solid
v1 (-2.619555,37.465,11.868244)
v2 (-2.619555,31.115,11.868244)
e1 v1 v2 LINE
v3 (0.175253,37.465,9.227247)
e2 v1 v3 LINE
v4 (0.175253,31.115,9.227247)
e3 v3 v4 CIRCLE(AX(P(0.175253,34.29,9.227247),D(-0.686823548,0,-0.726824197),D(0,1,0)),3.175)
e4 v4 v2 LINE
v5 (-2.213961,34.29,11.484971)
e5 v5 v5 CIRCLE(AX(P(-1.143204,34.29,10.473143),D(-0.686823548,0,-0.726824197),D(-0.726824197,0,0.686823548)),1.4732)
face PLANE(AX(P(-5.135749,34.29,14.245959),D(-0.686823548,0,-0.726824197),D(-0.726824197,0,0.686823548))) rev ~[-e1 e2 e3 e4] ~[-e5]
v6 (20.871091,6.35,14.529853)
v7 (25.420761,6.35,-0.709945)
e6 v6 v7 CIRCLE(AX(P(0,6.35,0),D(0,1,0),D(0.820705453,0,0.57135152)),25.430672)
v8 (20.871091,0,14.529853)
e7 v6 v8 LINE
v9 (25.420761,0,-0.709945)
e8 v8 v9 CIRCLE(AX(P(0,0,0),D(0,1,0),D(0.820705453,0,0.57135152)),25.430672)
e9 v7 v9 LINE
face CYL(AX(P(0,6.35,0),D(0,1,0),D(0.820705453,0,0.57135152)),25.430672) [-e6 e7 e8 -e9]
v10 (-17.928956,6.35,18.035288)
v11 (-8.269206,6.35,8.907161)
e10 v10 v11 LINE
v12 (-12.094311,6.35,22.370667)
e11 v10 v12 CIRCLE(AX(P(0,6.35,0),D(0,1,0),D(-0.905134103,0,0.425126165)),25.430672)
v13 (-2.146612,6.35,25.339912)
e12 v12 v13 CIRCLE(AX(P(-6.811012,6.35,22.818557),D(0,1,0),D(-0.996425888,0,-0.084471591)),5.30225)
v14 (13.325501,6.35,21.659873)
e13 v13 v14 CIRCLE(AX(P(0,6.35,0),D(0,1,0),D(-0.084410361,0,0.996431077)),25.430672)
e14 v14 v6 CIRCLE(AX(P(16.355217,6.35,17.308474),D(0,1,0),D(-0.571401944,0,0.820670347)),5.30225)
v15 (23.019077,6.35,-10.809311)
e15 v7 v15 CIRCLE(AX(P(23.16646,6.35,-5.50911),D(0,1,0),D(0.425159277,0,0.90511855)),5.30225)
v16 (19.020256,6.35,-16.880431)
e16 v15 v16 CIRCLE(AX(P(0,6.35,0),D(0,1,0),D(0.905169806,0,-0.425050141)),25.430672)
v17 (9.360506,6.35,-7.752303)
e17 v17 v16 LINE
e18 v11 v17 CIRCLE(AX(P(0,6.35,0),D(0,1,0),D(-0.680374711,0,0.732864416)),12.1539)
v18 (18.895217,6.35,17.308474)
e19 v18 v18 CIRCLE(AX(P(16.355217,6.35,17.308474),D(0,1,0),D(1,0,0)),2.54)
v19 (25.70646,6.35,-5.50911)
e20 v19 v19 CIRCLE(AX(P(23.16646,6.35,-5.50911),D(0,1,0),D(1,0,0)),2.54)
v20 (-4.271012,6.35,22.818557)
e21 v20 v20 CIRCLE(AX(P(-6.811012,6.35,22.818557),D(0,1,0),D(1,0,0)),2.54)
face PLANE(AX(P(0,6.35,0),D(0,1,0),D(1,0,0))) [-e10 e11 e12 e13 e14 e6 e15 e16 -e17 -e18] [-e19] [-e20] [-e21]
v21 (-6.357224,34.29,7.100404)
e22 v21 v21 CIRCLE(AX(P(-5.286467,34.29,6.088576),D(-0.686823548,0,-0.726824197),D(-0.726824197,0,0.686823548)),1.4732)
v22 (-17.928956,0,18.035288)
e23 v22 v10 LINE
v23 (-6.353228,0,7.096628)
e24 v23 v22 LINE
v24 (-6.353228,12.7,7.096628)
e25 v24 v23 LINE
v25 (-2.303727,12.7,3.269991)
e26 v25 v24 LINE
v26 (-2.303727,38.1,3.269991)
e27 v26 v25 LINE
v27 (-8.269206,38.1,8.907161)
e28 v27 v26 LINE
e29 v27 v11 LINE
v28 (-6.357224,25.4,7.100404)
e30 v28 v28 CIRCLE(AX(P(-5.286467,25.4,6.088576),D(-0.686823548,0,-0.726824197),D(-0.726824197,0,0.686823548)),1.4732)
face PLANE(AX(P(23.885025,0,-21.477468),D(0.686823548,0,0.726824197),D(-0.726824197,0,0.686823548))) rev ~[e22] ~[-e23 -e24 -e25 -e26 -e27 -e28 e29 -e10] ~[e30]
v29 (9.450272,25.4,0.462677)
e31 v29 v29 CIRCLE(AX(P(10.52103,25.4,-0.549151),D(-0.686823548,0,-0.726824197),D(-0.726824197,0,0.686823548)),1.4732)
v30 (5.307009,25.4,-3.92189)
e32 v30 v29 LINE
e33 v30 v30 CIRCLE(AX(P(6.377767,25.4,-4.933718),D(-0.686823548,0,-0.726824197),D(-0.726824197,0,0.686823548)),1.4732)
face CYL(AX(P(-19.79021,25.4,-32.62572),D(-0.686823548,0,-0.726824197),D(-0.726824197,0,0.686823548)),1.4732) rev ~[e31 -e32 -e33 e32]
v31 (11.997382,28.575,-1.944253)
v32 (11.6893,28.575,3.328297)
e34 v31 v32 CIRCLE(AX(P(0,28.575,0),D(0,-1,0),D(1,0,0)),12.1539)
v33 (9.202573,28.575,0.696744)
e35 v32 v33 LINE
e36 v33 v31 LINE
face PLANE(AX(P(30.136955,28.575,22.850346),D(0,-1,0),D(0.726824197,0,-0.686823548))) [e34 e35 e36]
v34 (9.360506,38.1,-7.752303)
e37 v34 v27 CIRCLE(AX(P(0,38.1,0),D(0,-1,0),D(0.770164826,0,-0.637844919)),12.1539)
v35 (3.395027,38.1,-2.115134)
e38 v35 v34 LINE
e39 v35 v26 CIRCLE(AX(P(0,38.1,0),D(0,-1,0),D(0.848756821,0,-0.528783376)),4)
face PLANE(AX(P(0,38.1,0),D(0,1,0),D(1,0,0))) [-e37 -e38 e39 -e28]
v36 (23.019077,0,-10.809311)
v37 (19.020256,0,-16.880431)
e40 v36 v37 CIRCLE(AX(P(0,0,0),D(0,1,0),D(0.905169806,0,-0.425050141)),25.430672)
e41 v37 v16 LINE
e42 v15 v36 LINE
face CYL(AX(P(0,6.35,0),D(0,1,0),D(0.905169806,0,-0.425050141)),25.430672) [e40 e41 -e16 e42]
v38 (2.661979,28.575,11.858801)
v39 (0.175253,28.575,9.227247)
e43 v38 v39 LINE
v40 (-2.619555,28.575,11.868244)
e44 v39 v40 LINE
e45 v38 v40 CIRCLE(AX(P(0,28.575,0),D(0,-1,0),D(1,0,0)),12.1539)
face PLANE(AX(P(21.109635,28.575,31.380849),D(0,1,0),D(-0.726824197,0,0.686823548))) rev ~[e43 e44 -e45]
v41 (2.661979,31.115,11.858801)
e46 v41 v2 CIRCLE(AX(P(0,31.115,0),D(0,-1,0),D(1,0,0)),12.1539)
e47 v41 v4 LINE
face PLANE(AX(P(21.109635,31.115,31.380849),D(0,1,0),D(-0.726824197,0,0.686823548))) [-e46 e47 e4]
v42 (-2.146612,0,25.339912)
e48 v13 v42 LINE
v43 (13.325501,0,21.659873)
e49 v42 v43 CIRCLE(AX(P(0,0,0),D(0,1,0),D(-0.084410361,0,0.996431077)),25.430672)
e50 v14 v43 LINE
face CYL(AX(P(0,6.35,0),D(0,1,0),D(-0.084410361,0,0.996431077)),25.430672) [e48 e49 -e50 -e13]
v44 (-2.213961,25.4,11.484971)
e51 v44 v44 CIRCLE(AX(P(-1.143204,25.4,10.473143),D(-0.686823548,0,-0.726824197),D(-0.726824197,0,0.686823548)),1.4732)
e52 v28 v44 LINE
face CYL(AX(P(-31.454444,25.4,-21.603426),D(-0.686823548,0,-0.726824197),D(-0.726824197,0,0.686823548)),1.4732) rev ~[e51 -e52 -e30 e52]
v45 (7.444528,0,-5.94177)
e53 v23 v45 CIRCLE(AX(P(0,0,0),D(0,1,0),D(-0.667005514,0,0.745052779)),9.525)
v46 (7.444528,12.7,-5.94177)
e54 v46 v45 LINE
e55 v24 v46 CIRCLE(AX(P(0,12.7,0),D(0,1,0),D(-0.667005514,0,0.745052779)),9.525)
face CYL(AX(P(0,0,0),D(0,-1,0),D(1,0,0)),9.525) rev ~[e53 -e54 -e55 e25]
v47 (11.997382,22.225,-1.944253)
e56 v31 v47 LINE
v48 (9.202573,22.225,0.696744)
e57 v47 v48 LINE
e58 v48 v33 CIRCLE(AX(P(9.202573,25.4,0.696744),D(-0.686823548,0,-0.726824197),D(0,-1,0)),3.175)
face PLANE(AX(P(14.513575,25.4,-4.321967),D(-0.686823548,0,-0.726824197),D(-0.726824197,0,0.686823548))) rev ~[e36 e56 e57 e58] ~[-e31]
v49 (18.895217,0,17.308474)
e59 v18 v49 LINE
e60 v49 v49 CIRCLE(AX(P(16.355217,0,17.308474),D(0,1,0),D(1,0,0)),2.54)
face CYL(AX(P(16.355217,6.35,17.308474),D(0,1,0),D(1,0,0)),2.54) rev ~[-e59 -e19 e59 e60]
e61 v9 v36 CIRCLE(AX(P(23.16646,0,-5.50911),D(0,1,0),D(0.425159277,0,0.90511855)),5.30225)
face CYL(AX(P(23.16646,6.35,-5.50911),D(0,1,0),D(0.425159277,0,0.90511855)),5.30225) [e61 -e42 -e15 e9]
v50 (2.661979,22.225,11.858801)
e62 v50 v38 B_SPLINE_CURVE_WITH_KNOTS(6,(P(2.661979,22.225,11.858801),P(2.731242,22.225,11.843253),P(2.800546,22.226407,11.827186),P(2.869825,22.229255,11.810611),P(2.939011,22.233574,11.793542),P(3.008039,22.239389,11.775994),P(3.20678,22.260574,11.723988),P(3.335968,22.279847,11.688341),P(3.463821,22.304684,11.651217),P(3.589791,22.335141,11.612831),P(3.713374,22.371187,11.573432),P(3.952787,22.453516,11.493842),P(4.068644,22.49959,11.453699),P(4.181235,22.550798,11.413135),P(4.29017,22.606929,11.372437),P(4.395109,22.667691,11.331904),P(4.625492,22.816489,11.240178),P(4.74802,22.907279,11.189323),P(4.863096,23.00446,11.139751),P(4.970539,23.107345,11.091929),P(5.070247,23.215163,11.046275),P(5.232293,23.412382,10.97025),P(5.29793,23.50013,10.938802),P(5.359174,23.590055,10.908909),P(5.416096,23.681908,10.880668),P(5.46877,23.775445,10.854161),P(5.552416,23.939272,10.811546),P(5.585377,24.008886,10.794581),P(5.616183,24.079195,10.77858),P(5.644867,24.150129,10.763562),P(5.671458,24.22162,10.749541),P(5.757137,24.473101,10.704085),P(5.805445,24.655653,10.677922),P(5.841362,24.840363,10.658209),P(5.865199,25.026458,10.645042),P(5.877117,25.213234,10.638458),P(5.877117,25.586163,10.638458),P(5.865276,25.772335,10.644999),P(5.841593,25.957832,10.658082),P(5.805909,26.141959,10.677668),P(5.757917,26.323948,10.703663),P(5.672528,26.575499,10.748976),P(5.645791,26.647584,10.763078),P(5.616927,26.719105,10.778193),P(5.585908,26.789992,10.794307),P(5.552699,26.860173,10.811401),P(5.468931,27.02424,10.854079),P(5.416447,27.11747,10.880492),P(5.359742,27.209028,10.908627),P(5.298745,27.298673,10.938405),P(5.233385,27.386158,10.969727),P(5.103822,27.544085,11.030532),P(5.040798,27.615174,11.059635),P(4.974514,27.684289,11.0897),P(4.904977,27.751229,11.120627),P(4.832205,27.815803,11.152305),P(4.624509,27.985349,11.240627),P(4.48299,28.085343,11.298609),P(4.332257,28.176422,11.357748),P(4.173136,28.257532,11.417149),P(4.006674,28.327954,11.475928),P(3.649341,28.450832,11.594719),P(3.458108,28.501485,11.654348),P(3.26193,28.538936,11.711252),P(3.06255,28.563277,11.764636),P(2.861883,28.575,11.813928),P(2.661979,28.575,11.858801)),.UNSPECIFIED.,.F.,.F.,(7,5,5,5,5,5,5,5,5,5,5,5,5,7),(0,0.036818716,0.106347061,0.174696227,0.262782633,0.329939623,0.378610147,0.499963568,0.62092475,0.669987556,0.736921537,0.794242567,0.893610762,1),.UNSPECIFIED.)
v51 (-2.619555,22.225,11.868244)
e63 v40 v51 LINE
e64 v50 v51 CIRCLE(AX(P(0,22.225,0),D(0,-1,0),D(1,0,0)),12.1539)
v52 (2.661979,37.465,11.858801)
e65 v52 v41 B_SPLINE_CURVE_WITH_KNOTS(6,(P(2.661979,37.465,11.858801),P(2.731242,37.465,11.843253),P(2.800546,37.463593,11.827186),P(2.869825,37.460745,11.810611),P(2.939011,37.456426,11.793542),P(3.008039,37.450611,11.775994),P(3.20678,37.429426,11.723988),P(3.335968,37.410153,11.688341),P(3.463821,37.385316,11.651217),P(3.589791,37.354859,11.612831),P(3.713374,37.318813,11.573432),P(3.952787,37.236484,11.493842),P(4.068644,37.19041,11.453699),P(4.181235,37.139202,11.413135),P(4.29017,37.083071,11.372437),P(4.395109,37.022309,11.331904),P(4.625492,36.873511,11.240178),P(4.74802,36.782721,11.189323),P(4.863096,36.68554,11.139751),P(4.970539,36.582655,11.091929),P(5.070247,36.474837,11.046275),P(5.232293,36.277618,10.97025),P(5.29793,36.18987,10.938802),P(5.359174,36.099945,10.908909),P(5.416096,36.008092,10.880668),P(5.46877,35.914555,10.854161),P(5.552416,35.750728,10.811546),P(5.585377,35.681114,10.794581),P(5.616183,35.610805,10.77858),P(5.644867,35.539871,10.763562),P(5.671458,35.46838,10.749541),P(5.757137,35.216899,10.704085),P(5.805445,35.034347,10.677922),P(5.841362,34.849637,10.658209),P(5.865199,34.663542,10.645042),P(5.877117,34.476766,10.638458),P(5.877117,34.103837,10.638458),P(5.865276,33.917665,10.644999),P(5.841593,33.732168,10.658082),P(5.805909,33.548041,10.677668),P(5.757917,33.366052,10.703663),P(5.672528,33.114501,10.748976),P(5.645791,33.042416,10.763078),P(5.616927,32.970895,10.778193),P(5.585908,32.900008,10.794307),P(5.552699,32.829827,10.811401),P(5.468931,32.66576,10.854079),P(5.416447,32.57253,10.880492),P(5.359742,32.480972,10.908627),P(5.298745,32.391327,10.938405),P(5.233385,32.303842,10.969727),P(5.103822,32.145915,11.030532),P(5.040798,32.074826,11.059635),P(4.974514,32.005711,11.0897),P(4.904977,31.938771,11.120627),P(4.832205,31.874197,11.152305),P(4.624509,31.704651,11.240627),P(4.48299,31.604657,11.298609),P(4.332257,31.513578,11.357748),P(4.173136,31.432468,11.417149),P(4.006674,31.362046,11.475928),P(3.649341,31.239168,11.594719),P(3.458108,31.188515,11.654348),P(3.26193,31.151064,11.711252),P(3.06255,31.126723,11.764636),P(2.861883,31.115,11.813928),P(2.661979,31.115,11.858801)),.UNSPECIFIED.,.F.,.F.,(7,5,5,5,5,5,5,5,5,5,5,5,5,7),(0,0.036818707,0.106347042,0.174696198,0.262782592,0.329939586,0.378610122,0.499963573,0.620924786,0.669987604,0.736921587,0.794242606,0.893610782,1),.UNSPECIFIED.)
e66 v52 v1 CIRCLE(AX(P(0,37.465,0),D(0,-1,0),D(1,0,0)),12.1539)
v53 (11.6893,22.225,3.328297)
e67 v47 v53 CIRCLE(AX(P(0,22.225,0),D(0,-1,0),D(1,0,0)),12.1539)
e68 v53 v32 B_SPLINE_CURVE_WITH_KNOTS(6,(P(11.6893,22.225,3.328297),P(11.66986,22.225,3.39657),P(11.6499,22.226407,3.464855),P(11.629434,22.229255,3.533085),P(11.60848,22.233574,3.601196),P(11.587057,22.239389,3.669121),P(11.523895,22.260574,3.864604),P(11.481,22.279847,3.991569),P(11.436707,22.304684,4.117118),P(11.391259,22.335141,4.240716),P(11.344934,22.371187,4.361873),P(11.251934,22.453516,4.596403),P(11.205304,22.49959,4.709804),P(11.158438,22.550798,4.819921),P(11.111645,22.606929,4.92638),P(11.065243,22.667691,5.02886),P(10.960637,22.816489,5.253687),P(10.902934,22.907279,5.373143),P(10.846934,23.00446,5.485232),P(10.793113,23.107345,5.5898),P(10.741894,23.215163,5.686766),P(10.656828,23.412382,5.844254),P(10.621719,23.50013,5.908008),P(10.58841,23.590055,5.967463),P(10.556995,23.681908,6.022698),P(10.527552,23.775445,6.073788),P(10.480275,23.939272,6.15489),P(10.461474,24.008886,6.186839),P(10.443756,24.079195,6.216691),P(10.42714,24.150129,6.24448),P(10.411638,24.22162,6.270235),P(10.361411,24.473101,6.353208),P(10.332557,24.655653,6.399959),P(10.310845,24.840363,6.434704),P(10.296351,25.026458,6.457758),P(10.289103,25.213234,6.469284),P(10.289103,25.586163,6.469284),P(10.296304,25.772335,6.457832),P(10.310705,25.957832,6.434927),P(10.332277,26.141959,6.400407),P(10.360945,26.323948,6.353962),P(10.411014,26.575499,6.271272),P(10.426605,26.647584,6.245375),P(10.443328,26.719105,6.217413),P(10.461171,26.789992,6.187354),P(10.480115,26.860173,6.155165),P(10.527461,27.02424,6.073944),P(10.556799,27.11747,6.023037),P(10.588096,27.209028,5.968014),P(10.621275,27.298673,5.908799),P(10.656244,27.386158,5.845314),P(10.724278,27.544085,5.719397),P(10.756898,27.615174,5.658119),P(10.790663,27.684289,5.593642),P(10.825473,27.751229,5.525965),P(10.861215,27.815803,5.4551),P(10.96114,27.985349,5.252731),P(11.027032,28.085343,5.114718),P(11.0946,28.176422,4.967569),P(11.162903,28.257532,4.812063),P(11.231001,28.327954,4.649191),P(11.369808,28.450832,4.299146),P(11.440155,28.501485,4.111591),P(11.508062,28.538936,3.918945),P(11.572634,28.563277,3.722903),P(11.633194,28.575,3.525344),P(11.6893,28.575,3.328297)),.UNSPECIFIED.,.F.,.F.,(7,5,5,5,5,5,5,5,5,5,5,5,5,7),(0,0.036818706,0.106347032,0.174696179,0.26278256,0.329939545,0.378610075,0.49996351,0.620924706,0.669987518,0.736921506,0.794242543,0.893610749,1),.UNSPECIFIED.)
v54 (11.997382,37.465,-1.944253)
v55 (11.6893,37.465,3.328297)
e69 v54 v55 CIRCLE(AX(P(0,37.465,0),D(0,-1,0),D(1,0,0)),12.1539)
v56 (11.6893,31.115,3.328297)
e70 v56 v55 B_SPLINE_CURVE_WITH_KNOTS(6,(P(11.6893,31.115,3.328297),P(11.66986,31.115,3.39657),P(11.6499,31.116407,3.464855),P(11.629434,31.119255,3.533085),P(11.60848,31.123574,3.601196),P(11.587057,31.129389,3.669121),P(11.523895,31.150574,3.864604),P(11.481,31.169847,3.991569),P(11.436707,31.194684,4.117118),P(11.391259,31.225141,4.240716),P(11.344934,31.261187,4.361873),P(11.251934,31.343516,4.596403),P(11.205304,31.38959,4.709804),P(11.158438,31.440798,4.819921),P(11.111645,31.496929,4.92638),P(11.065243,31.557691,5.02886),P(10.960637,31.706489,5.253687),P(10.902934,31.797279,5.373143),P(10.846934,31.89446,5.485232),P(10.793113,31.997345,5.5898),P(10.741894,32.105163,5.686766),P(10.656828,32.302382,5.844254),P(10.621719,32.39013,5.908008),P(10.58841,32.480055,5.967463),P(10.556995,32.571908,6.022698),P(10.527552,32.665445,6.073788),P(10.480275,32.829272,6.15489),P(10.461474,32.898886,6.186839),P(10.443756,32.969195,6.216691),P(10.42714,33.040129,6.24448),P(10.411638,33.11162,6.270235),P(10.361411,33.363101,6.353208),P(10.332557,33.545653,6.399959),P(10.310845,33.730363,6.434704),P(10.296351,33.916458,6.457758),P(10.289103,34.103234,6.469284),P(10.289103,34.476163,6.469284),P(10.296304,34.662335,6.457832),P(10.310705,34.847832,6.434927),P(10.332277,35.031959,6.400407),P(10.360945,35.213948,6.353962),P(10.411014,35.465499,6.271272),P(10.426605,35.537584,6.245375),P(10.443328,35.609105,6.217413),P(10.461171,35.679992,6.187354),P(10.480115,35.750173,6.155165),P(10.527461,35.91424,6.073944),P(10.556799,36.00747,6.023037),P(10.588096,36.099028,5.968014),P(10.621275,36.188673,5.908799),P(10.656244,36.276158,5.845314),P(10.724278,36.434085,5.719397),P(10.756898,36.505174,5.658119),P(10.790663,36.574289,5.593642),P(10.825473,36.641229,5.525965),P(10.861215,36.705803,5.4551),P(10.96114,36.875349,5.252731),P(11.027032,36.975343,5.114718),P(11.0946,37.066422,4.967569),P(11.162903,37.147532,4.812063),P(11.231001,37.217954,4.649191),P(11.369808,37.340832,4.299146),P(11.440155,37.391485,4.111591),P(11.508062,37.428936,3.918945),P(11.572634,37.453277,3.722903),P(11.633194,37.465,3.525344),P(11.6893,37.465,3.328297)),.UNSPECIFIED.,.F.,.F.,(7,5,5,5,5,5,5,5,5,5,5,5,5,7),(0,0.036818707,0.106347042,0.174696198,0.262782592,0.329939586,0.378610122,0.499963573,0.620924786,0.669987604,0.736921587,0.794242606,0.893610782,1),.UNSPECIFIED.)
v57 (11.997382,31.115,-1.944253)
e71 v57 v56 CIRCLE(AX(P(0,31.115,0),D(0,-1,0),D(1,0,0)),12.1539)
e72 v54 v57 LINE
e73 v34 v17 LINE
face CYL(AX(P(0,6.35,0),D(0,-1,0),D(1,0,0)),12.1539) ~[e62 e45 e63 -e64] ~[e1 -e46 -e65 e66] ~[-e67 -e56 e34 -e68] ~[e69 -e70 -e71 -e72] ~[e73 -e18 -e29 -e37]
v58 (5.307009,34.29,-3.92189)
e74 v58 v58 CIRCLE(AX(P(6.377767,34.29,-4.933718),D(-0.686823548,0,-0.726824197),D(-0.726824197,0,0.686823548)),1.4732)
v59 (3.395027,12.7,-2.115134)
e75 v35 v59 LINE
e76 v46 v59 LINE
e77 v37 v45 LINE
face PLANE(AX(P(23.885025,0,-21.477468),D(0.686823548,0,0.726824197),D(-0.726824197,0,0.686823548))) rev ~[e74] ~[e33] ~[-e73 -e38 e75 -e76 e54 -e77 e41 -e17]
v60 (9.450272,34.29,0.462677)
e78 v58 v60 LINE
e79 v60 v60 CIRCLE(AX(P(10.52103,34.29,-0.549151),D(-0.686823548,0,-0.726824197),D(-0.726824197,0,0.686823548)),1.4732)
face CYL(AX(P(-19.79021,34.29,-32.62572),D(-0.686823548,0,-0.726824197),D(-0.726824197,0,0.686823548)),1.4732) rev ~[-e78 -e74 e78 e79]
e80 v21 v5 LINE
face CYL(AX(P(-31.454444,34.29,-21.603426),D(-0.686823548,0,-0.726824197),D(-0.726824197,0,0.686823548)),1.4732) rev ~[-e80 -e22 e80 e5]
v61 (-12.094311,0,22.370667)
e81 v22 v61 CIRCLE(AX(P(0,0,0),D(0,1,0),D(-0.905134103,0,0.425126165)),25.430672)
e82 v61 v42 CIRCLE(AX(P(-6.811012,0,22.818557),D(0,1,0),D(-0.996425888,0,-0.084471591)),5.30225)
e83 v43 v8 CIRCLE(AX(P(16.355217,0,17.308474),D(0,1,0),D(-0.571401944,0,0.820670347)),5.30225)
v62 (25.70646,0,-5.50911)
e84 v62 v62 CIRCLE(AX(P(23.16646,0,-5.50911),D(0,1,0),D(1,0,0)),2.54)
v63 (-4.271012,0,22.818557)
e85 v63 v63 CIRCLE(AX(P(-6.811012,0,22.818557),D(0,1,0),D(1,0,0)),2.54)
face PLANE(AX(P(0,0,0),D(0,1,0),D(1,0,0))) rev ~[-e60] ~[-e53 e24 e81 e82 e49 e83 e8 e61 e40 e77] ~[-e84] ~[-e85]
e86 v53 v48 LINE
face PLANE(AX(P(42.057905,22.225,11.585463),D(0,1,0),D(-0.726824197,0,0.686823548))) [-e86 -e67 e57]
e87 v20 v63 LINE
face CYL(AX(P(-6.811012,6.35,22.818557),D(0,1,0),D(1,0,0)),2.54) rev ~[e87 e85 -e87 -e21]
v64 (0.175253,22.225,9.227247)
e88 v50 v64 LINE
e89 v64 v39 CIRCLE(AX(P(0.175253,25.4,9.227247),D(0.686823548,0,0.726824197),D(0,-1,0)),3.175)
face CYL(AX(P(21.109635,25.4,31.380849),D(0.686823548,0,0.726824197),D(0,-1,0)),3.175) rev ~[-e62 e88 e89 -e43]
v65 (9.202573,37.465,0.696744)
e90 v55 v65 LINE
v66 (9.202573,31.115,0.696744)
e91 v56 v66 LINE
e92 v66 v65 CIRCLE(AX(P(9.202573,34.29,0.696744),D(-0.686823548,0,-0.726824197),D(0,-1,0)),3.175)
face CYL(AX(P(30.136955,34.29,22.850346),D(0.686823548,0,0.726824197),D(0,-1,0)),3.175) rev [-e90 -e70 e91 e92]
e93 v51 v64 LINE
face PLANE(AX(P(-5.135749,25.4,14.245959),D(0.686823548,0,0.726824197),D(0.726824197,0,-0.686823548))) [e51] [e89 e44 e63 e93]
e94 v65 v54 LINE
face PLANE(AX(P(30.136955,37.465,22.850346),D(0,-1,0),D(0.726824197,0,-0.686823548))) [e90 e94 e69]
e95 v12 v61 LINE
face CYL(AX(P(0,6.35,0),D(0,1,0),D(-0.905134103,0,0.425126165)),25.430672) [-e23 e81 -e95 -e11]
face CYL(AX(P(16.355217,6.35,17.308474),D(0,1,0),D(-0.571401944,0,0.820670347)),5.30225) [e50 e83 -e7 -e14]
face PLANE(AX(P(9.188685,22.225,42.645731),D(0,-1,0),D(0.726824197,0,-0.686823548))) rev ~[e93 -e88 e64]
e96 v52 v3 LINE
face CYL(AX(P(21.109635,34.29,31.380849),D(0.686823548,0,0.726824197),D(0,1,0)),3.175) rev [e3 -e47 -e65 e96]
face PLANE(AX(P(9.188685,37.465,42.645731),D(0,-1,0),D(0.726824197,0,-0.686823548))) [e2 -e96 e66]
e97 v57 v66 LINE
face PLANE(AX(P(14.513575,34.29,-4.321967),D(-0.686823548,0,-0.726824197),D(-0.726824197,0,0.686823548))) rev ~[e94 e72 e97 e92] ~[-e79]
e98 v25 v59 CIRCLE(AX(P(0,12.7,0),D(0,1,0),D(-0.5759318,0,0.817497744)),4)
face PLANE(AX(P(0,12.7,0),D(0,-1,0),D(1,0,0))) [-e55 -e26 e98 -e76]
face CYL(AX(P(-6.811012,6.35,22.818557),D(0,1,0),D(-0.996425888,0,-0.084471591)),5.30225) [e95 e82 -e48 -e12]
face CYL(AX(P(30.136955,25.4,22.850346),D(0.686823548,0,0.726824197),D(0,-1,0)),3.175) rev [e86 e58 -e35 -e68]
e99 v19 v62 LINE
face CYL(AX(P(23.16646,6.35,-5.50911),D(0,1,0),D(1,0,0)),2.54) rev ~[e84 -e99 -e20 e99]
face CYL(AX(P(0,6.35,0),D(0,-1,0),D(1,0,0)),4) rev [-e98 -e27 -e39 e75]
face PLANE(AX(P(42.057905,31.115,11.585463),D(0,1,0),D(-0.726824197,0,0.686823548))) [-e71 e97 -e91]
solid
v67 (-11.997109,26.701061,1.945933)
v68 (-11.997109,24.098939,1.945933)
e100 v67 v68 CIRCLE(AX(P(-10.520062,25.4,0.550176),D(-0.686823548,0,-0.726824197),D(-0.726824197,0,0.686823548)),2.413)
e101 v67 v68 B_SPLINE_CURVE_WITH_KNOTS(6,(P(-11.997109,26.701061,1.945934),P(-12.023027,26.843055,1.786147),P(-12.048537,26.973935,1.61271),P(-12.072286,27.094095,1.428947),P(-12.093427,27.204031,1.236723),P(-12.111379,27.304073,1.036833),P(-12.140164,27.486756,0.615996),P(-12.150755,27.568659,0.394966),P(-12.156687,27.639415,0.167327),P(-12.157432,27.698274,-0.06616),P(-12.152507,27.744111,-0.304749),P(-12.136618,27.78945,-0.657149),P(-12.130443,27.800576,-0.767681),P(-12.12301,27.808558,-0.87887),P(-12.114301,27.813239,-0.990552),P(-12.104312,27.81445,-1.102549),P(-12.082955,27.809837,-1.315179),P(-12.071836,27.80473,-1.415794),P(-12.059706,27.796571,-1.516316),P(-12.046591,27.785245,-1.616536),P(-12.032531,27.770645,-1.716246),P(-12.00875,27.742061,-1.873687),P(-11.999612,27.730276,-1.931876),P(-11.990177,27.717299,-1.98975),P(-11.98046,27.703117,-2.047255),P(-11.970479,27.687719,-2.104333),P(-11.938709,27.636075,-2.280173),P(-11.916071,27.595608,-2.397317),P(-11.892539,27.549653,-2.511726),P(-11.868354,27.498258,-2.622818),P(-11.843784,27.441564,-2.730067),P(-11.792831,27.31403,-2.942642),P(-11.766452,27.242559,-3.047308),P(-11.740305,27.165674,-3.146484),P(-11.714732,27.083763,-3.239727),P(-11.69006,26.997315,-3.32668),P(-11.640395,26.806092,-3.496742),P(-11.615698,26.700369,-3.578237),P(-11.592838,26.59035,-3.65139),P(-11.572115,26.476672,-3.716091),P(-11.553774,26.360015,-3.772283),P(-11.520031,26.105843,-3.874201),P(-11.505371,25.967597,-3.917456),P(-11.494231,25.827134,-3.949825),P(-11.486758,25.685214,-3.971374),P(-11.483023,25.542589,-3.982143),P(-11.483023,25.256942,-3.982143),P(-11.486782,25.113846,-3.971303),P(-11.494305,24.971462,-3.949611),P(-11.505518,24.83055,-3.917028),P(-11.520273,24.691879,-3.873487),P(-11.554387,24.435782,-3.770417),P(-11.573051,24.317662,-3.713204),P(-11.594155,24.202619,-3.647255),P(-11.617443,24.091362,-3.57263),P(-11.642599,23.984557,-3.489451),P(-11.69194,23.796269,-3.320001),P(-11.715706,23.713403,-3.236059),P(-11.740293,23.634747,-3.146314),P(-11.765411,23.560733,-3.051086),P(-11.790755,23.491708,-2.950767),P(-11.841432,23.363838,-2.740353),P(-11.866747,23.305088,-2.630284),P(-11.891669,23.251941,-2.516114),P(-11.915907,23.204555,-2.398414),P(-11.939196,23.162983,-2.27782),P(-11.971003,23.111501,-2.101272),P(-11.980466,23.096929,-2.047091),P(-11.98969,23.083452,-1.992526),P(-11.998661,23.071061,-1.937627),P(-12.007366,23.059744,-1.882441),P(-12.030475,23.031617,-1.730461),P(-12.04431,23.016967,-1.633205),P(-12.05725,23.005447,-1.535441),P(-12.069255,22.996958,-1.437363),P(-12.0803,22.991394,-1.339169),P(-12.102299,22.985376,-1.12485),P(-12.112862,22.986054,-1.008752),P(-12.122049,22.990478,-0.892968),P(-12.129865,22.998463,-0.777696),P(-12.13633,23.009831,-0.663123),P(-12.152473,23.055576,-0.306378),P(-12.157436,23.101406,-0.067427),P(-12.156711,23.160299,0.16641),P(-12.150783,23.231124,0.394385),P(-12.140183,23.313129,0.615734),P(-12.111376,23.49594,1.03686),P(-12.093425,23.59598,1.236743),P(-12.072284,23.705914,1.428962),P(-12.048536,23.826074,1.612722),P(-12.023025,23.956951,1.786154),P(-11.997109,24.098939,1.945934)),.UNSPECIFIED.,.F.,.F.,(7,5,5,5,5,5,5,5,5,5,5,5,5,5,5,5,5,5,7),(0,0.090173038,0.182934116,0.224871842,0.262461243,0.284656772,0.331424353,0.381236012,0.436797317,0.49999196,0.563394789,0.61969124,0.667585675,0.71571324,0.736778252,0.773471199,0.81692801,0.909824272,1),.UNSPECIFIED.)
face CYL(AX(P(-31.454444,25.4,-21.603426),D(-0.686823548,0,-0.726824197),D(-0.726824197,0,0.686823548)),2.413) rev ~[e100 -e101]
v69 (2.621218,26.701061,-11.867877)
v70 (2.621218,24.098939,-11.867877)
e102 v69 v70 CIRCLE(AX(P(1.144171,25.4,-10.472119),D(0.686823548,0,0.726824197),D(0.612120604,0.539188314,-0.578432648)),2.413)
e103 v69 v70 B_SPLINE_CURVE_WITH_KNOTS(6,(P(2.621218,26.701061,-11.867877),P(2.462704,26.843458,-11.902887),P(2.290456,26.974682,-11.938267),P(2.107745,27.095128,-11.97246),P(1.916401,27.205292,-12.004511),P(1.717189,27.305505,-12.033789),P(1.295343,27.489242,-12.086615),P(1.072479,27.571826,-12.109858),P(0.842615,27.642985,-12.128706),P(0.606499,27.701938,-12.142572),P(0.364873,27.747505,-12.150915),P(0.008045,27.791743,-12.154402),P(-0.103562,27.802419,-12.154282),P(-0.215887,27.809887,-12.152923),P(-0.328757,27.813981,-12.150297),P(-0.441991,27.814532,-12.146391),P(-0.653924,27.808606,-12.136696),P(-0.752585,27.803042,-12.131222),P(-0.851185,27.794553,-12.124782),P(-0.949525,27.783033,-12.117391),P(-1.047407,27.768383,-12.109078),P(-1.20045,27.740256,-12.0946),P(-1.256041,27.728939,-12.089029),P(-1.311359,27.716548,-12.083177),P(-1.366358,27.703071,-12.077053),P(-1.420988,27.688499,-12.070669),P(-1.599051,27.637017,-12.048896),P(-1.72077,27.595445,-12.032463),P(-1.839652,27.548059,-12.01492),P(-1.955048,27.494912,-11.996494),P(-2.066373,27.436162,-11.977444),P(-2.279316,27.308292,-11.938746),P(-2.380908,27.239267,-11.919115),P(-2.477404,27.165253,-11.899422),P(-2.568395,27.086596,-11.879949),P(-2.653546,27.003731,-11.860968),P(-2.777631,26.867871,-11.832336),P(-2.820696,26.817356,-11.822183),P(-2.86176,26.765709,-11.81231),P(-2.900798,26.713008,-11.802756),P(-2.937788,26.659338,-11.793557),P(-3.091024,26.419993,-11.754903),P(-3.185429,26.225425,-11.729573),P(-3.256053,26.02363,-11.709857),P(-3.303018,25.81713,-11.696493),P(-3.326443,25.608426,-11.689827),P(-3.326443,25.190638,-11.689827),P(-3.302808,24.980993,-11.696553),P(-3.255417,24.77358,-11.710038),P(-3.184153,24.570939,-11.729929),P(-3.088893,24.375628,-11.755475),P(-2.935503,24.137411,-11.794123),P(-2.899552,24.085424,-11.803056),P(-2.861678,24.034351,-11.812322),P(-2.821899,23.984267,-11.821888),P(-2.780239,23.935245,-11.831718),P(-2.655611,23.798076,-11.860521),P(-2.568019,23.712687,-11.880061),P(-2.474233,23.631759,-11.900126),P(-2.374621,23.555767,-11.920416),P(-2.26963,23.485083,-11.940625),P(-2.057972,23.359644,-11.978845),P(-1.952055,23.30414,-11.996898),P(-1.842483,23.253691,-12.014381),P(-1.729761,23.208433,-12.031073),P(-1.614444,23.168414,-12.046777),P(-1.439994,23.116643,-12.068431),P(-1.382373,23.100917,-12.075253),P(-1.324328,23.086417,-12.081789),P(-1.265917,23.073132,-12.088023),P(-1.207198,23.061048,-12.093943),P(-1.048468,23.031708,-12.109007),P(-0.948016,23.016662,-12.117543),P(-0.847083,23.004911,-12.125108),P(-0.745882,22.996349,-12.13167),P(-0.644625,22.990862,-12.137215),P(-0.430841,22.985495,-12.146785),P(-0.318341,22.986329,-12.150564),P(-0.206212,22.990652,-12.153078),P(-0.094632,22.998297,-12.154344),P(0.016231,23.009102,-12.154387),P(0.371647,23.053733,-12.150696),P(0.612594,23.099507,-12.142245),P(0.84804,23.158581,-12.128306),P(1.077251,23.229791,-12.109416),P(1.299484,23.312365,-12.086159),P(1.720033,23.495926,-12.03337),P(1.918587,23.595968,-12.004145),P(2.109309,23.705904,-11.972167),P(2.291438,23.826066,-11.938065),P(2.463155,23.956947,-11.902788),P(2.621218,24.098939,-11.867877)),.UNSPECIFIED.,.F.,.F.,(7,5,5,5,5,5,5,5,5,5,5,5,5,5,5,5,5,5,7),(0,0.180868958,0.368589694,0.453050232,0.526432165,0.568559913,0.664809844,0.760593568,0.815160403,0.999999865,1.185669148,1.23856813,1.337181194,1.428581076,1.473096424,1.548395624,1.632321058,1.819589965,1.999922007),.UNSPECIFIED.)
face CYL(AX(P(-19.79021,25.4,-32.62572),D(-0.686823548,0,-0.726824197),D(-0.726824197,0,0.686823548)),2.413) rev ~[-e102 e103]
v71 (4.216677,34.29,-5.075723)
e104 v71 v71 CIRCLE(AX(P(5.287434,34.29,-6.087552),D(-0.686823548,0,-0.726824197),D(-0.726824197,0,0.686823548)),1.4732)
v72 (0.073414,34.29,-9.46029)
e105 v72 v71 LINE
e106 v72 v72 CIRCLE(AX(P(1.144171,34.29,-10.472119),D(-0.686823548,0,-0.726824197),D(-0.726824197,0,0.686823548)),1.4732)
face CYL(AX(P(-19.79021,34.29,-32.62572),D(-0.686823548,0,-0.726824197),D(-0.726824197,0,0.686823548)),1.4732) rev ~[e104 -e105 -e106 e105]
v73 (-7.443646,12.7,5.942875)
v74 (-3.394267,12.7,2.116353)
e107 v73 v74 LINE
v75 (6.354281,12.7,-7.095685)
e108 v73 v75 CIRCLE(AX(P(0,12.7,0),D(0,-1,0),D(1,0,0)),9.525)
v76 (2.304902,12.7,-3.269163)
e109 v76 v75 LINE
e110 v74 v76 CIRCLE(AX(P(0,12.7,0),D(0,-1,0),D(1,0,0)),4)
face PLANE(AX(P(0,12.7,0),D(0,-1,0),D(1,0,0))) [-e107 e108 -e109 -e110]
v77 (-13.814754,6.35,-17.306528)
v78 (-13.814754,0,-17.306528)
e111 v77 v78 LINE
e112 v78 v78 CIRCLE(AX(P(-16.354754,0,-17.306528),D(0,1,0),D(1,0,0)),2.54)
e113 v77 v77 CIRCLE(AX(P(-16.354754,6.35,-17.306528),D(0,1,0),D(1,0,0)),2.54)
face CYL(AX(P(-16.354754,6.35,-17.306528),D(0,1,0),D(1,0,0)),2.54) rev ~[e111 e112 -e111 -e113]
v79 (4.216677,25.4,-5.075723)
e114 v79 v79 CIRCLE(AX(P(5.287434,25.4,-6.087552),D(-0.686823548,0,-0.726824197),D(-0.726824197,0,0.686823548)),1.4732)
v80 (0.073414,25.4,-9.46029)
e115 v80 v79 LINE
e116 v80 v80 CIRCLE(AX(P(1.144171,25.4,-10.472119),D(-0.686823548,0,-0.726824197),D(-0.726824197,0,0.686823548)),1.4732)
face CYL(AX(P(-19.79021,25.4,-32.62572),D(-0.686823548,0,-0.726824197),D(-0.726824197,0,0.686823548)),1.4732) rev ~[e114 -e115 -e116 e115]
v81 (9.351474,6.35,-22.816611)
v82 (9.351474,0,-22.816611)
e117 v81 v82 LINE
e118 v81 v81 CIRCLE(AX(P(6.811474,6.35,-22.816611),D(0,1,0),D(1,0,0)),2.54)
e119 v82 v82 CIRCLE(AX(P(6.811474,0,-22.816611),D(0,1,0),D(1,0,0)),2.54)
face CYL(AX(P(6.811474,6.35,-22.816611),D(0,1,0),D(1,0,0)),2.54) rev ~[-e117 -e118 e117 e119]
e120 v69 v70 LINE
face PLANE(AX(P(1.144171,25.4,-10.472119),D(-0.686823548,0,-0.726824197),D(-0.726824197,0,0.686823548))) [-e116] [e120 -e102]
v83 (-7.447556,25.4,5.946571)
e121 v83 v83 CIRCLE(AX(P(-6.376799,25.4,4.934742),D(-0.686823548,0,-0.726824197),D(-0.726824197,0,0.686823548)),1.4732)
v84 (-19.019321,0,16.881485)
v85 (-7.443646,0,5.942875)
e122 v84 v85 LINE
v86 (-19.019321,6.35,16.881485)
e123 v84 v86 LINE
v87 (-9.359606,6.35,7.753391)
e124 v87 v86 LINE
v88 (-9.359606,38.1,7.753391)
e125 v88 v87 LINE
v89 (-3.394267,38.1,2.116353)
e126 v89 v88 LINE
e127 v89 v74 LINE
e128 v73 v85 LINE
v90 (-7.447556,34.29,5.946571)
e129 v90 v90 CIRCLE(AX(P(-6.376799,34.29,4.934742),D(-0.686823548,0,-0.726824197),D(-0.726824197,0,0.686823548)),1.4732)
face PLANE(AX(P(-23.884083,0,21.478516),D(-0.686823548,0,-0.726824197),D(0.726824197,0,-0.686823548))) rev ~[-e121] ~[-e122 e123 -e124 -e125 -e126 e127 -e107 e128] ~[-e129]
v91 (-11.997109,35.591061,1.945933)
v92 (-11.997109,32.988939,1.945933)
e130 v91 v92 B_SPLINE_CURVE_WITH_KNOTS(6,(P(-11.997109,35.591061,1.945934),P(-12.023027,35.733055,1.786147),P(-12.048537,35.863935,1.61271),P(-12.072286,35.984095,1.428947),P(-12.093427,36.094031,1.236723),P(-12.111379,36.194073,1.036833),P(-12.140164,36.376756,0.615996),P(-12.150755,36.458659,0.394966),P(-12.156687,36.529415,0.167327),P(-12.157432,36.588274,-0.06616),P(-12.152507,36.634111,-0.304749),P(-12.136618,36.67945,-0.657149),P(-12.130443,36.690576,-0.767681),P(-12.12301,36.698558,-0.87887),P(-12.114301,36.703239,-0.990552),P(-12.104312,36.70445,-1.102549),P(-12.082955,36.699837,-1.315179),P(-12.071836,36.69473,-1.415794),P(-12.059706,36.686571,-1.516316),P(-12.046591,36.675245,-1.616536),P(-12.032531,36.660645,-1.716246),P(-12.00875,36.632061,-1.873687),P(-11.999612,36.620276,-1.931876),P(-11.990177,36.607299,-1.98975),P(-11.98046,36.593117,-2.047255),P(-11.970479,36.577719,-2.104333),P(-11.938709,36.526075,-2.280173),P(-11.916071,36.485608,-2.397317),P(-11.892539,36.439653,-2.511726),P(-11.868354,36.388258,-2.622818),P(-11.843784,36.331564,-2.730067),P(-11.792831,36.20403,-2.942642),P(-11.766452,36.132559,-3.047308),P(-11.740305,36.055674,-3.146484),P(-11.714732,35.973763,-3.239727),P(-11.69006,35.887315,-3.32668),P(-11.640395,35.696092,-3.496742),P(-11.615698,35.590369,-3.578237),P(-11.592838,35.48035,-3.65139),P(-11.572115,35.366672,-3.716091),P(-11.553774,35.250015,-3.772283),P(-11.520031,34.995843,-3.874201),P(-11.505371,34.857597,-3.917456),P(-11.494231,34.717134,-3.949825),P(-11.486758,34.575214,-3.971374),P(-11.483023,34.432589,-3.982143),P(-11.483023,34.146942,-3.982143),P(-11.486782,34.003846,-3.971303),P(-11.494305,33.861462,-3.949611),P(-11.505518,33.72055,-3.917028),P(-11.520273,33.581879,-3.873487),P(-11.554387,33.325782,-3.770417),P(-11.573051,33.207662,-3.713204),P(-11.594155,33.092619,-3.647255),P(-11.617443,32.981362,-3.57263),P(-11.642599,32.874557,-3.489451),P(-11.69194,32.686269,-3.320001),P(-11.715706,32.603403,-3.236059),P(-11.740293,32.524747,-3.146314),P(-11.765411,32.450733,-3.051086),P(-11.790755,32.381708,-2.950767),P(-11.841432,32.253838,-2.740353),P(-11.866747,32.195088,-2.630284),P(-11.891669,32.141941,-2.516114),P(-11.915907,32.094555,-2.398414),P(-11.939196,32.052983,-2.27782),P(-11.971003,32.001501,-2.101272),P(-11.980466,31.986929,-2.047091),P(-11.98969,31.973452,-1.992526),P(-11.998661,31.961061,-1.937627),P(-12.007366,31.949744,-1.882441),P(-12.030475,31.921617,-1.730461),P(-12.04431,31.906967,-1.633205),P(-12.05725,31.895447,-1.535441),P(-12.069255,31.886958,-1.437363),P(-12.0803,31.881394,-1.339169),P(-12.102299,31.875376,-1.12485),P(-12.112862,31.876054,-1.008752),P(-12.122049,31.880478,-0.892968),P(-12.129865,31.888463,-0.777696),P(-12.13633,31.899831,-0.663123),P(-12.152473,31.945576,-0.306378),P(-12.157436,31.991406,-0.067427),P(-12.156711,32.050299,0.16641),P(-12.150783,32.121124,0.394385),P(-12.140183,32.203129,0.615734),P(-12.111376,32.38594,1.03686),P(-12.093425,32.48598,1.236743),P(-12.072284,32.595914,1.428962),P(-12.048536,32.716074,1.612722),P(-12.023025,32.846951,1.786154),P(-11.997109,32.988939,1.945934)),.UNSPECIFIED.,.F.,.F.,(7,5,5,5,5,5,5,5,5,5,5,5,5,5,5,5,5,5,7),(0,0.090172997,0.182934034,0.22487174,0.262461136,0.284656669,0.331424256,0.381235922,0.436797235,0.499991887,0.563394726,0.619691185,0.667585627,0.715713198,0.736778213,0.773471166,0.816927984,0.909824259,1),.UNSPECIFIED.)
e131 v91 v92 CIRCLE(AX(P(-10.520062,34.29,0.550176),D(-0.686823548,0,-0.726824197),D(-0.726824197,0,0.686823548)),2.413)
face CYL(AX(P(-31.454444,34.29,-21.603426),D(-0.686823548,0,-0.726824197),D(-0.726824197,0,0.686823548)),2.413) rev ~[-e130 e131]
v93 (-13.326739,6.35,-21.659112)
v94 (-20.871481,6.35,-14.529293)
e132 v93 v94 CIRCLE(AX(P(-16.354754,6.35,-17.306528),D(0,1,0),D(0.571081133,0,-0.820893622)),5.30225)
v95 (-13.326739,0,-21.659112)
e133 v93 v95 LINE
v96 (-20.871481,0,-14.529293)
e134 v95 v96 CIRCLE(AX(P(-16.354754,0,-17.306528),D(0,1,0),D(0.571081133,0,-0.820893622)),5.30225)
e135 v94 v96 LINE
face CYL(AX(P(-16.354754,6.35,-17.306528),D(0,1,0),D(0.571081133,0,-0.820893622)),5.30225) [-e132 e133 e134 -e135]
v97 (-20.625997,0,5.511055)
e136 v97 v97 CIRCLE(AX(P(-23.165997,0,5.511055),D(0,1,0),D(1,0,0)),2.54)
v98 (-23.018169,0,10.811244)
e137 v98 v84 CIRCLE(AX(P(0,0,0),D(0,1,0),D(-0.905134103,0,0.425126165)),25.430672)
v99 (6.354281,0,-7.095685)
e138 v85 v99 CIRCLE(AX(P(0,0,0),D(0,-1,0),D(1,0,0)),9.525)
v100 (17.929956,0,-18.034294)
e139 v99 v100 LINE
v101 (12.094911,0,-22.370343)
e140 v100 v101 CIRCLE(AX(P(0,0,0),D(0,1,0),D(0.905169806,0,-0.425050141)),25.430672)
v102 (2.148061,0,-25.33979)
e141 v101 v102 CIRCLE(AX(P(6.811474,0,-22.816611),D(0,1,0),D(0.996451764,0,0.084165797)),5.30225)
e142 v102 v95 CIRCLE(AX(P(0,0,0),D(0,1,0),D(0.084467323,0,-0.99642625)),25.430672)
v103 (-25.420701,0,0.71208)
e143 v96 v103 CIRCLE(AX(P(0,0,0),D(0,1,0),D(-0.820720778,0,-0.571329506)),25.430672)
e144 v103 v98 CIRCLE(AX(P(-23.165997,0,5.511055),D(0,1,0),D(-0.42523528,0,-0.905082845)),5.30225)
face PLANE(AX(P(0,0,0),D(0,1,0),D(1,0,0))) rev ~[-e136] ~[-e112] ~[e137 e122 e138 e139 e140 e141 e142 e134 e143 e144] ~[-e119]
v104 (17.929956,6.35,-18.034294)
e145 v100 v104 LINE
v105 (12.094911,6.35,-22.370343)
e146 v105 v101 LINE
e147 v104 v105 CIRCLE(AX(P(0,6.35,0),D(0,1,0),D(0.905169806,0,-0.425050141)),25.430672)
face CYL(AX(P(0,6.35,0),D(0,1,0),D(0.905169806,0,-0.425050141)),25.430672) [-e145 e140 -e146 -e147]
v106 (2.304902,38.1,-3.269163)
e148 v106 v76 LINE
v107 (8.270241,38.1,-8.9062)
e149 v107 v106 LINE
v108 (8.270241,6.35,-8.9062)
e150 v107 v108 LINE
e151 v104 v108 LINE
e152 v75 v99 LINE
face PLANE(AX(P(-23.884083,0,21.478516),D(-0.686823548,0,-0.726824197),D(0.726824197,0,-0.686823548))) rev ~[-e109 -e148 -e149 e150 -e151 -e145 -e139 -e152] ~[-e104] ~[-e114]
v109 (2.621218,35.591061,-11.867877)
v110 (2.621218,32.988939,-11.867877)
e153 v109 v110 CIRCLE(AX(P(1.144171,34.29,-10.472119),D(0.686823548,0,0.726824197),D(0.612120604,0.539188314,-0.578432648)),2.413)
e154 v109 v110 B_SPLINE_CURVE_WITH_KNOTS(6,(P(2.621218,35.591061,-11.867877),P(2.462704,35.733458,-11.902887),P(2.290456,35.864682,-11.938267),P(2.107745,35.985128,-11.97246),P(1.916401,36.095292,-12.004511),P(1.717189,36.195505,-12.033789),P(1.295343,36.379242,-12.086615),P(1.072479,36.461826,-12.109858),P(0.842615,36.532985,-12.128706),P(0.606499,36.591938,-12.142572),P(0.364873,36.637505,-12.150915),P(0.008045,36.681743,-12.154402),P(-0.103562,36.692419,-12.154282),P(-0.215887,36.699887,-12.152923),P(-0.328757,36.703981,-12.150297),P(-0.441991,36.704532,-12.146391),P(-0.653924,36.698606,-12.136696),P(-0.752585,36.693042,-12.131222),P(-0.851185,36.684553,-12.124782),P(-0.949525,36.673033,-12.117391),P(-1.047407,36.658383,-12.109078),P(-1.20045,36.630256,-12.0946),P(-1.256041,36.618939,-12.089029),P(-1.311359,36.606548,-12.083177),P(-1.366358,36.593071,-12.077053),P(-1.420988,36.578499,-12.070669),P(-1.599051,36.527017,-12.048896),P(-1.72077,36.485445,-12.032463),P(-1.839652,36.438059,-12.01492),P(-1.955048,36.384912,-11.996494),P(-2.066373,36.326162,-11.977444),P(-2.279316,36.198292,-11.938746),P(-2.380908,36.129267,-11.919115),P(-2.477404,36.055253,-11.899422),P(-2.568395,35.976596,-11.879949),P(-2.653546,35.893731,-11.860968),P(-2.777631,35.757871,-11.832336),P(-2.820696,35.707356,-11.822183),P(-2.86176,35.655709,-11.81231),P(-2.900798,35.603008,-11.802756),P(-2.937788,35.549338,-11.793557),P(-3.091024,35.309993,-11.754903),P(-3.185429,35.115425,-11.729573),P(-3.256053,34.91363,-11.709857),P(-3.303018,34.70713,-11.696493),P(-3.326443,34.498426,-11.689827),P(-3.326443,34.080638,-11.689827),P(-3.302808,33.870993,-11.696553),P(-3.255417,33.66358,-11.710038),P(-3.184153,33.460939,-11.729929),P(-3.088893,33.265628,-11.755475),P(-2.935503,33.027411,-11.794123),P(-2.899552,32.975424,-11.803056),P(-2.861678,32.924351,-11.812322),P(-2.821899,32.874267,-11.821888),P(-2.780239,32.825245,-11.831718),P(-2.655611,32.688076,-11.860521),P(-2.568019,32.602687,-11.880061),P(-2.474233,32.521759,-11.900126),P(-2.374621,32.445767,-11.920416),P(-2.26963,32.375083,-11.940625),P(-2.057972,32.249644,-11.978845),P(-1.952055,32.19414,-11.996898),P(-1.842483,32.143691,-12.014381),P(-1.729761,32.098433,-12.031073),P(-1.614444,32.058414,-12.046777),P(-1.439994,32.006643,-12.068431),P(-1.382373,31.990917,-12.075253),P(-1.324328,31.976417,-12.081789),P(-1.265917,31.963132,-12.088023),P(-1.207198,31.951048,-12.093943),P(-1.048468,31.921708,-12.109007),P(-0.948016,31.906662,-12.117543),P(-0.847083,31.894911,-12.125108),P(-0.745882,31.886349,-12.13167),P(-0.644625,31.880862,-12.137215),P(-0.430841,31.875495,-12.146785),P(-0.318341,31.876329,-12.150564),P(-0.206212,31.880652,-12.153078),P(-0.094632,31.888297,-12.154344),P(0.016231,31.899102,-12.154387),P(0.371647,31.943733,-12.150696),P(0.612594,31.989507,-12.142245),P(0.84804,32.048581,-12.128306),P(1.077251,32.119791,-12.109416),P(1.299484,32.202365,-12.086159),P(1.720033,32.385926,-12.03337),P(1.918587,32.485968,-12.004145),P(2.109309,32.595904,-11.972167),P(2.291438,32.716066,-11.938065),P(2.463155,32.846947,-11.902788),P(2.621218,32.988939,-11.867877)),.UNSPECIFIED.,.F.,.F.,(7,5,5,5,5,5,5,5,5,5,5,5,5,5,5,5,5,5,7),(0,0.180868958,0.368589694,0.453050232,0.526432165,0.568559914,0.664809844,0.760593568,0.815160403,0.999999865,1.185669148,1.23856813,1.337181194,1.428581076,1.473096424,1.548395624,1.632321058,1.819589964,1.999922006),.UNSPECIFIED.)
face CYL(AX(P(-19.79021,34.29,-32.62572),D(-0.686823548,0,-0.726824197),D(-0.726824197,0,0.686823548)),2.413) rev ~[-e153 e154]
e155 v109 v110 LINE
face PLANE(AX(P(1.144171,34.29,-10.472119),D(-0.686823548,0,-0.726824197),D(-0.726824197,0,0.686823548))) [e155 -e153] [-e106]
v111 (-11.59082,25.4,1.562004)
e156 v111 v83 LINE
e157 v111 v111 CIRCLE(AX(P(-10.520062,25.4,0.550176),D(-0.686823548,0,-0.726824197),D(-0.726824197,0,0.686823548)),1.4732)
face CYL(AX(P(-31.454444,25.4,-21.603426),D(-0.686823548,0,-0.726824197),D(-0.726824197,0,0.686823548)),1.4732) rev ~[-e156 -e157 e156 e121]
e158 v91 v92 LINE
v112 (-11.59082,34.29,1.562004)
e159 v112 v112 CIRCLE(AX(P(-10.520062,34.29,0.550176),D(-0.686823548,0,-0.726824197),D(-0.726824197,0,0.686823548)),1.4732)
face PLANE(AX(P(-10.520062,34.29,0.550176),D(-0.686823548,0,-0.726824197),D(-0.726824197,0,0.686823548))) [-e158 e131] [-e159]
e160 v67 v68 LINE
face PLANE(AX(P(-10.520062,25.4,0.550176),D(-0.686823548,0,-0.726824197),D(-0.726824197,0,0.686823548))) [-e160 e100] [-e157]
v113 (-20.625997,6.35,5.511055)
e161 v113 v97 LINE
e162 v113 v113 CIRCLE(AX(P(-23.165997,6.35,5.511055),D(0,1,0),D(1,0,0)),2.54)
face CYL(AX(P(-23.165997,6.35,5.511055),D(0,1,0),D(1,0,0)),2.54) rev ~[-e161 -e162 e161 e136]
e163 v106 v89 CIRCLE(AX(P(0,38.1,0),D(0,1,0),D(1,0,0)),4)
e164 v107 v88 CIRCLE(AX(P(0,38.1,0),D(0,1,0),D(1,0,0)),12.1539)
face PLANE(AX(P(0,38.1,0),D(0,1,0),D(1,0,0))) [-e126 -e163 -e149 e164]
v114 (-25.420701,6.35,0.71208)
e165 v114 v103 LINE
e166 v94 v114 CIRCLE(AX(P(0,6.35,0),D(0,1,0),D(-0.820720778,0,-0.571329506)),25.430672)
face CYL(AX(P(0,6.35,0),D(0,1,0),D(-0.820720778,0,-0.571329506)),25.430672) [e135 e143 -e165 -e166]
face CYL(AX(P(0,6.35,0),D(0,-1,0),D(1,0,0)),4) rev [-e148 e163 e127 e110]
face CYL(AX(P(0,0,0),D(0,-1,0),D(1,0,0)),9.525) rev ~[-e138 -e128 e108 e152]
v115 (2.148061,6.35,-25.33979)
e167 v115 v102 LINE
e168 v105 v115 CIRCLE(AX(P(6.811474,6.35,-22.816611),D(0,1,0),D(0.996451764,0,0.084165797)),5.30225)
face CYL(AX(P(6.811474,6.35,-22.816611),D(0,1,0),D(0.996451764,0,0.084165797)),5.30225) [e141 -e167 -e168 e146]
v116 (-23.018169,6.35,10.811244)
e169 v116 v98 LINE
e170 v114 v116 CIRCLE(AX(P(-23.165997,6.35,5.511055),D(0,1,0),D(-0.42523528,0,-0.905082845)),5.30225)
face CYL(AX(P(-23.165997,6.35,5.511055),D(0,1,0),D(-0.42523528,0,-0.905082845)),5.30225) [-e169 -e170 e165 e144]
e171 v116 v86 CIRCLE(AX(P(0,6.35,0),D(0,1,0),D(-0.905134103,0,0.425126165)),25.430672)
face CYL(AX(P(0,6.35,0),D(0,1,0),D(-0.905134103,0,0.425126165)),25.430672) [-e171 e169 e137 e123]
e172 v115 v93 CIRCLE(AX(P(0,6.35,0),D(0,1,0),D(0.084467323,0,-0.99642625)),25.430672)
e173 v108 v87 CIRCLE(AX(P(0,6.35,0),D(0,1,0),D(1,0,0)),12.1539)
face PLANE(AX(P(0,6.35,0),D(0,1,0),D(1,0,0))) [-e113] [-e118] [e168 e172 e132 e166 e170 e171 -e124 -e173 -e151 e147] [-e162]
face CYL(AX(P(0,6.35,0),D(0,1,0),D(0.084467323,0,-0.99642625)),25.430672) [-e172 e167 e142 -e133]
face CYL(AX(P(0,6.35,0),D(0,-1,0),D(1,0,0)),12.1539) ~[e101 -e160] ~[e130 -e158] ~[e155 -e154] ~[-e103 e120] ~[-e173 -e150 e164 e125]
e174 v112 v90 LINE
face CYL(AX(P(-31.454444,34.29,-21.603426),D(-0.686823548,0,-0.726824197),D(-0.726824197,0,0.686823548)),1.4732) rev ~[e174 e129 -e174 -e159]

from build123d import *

# Parameters (mm, degrees)
SKETCH1_R                = 29.36875
SKETCH1_R_2              = 4
BOSS_EXTRUDE1_DEPTH      = 6.35
SKETCH3_R                = 12.1539
SKETCH3_R_2              = 4
BOSS_EXTRUDE2_DEPTH      = 31.75
SKETCH4_R                = 51.921805426
CUT_EXTRUDE1_DEPTH       = 7.35
SKETCH5_R                = 2.54
CUT_EXTRUDE2_DEPTH       = 7.35
SKETCH6_R                = 9.525
CUT_EXTRUDE3_DEPTH       = 12.7
SLOT_DEPTH               = 39.1
SKETCH8_R                = 1.4732
NO4_40_HOLES_DEPTH       = 78.297408603
SKETCH9_R                = 2.413
NO4_40_COUNTERBORE_DEPTH = 30.48
NO4_40_NUT_SLOTS_DEPTH   = 30.48


with BuildPart() as part:
    # Sketch1 → Boss-Extrude1 (new body)
    with BuildSketch(Plane(origin=(0, 0, 0), x_dir=(1, 0, 0), z_dir=(0, 1, 0))):
        Circle(SKETCH1_R)
        Circle(SKETCH1_R_2, mode=Mode.SUBTRACT)
    extrude(amount=BOSS_EXTRUDE1_DEPTH)

    # Sketch3 → Boss-Extrude2 (add)
    with BuildSketch(Plane(origin=(0, 6.35, 0), x_dir=(1, 0, 0), z_dir=(0, 1, 0))):
        Circle(SKETCH3_R)
        Circle(SKETCH3_R_2, mode=Mode.SUBTRACT)
    extrude(amount=BOSS_EXTRUDE2_DEPTH)

    # Sketch4 → Cut-Extrude1 (cut, through all)
    with BuildSketch(Plane(origin=(0, 6.35, 0), x_dir=(1, 0, 0), z_dir=(0, 1, 0))):
        Circle(SKETCH4_R)
        with BuildLine():
            ThreePointArc((25.42076074, 0.709944805), (28.324858383, 6.735804714), (23.019076794, 10.809310883))
            ThreePointArc((23.019076794, 10.809310883), (18.484111888, 17.465872608), (12.0949106, 22.370342774))
            ThreePointArc((12.0949106, 22.370342774), (8.328217656, 27.897294332), (2.14806083, 25.33978952))
            ThreePointArc((2.14806083, 25.33978952), (-5.884518791, 24.740483763), (-13.326739439, 21.659111573))
            ThreePointArc((-13.326739439, 21.659111573), (-19.996545459, 21.160255493), (-20.871481236, 14.529293488))
            ThreePointArc((-20.871481236, 14.529293488), (-24.368348322, 7.273424109), (-25.420701023, -0.712079861))
            ThreePointArc((-25.420701023, -0.712079861), (-28.324292628, -6.738183701), (-23.018168837, -10.811244223))
            ThreePointArc((-23.018168837, -10.811244223), (-18.483144187, -17.466896668), (-12.09431069, -22.370667115))
            ThreePointArc((-12.09431069, -22.370667115), (-8.327541601, -27.899303758), (-2.146612242, -25.339912275))
            ThreePointArc((-2.146612242, -25.339912275), (5.884518724, -24.740483779), (13.325501128, -21.659873451))
            ThreePointArc((13.325501128, -21.659873451), (19.996846315, -21.162354177), (20.871091496, -14.529853337))
            ThreePointArc((20.871091496, -14.529853337), (24.367945291, -7.274774259), (25.42076074, 0.709944805))
        make_face(mode=Mode.SUBTRACT)
    extrude(amount=-CUT_EXTRUDE1_DEPTH, mode=Mode.SUBTRACT)

    # Sketch5 → Cut-Extrude2 (cut, through all)
    with BuildSketch(Plane(origin=(0, 6.35, 0), x_dir=(1, 0, 0), z_dir=(0, 1, 0))):
        with Locations((-23.165997257, -5.511055375)):
            Circle(SKETCH5_R)
        with Locations((-6.811011525, -22.818556609)):
            Circle(SKETCH5_R)
        with Locations((16.355217086, -17.308474104)):
            Circle(SKETCH5_R)
        with Locations((23.166459964, 5.509109636)):
            Circle(SKETCH5_R)
        with Locations((6.811474232, 22.81661087)):
            Circle(SKETCH5_R)
        with Locations((-16.354754378, 17.306528364)):
            Circle(SKETCH5_R)
    extrude(amount=-CUT_EXTRUDE2_DEPTH, mode=Mode.SUBTRACT)

    # Sketch6 → Cut-Extrude3 (cut)
    with BuildSketch(Plane.XZ):
        with Locations((-8.2e-08, 1.9e-08)):
            Circle(SKETCH6_R)
    extrude(amount=-CUT_EXTRUDE3_DEPTH, mode=Mode.SUBTRACT)

    # Sketch7 → Slot (cut, through all)
    with BuildSketch(Plane.XZ):
        with BuildLine():
            Line((-23.884082698, 21.478515658), (22.794718016, -22.631325011))
            ThreePointArc((22.794718016, -22.631325011), (23.347000893, -22.061133029), (23.885025086, -21.477467678))
            Line((23.885025086, -21.477467678), (-22.793725002, 22.632325151))
            ThreePointArc((-22.793725002, 22.632325151), (-23.346032897, 22.062157402), (-23.884082698, 21.478515658))
        make_face()
    extrude(amount=-SLOT_DEPTH, mode=Mode.SUBTRACT)

    # Sketch8 → No4-40 Holes (cut, through all)
    with BuildSketch(Plane(origin=(-25.622327145, 0, -27.114573176), x_dir=(-0.726824197, 0, 0.686823548), z_dir=(-0.686823548, 0, -0.726824197))):
        with Locations((8.02410922, 34.29)):
            Circle(SKETCH8_R)
        with Locations((8.02410922, 25.4)):
            Circle(SKETCH8_R)
        with Locations((-8.02410922, 34.29)):
            Circle(SKETCH8_R)
        with Locations((-8.02410922, 25.4)):
            Circle(SKETCH8_R)
    extrude(amount=-NO4_40_HOLES_DEPTH, mode=Mode.SUBTRACT)

    # Sketch9 → No4-40 Counterbore (cut)
    with BuildSketch(Plane(origin=(-25.622327145, 0, -27.114573176), x_dir=(-0.726824197, 0, 0.686823548), z_dir=(-0.686823548, 0, -0.726824197))):
        with Locations((8.02410922, 25.4)):
            Circle(SKETCH9_R)
        with Locations((8.02410922, 34.29)):
            Circle(SKETCH9_R)
        with Locations((-8.02410922, 25.4)):
            Circle(SKETCH9_R)
        with Locations((-8.02410922, 34.29)):
            Circle(SKETCH9_R)
    extrude(amount=-NO4_40_COUNTERBORE_DEPTH, mode=Mode.SUBTRACT)

    # Sketch10 → No4-40 Nut Slots (cut)
    with BuildSketch(Plane(origin=(25.623294846, 0, 27.115597236), x_dir=(0.726824197, 0, -0.686823548), z_dir=(0.686823548, 0, 0.726824197))):
        with BuildLine():
            Line((6.210112817, 37.465), (22.611534214, 37.465))
            Line((22.611534214, 37.465), (22.611534214, 31.115))
            Line((22.611534214, 31.115), (6.210112817, 31.115))
            ThreePointArc((6.210112817, 31.115), (3.035112817, 34.29), (6.210112817, 37.465))
        make_face()
        with BuildLine():
            Line((6.210112817, 28.575), (22.611534214, 28.575))
            Line((22.611534214, 28.575), (22.611534214, 22.225))
            Line((22.611534214, 22.225), (6.210112817, 22.225))
            ThreePointArc((6.210112817, 22.225), (3.035112817, 25.4), (6.210112817, 28.575))
        make_face()
        with BuildLine():
            Line((-22.611534214, 22.225), (-6.210112817, 22.225))
            ThreePointArc((-6.210112817, 22.225), (-3.035112817, 25.4), (-6.210112817, 28.575))
            Line((-6.210112817, 28.575), (-22.611534214, 28.575))
            Line((-22.611534214, 28.575), (-22.611534214, 22.225))
        make_face()
        with BuildLine():
            Line((-22.611534214, 31.115), (-22.611534214, 37.465))
            Line((-22.611534214, 37.465), (-6.210112817, 37.465))
            ThreePointArc((-6.210112817, 37.465), (-3.035112817, 34.29), (-6.210112817, 31.115))
            Line((-6.210112817, 31.115), (-22.611534214, 31.115))
        make_face()
    extrude(amount=-NO4_40_NUT_SLOTS_DEPTH, mode=Mode.SUBTRACT)


solid = part.part
